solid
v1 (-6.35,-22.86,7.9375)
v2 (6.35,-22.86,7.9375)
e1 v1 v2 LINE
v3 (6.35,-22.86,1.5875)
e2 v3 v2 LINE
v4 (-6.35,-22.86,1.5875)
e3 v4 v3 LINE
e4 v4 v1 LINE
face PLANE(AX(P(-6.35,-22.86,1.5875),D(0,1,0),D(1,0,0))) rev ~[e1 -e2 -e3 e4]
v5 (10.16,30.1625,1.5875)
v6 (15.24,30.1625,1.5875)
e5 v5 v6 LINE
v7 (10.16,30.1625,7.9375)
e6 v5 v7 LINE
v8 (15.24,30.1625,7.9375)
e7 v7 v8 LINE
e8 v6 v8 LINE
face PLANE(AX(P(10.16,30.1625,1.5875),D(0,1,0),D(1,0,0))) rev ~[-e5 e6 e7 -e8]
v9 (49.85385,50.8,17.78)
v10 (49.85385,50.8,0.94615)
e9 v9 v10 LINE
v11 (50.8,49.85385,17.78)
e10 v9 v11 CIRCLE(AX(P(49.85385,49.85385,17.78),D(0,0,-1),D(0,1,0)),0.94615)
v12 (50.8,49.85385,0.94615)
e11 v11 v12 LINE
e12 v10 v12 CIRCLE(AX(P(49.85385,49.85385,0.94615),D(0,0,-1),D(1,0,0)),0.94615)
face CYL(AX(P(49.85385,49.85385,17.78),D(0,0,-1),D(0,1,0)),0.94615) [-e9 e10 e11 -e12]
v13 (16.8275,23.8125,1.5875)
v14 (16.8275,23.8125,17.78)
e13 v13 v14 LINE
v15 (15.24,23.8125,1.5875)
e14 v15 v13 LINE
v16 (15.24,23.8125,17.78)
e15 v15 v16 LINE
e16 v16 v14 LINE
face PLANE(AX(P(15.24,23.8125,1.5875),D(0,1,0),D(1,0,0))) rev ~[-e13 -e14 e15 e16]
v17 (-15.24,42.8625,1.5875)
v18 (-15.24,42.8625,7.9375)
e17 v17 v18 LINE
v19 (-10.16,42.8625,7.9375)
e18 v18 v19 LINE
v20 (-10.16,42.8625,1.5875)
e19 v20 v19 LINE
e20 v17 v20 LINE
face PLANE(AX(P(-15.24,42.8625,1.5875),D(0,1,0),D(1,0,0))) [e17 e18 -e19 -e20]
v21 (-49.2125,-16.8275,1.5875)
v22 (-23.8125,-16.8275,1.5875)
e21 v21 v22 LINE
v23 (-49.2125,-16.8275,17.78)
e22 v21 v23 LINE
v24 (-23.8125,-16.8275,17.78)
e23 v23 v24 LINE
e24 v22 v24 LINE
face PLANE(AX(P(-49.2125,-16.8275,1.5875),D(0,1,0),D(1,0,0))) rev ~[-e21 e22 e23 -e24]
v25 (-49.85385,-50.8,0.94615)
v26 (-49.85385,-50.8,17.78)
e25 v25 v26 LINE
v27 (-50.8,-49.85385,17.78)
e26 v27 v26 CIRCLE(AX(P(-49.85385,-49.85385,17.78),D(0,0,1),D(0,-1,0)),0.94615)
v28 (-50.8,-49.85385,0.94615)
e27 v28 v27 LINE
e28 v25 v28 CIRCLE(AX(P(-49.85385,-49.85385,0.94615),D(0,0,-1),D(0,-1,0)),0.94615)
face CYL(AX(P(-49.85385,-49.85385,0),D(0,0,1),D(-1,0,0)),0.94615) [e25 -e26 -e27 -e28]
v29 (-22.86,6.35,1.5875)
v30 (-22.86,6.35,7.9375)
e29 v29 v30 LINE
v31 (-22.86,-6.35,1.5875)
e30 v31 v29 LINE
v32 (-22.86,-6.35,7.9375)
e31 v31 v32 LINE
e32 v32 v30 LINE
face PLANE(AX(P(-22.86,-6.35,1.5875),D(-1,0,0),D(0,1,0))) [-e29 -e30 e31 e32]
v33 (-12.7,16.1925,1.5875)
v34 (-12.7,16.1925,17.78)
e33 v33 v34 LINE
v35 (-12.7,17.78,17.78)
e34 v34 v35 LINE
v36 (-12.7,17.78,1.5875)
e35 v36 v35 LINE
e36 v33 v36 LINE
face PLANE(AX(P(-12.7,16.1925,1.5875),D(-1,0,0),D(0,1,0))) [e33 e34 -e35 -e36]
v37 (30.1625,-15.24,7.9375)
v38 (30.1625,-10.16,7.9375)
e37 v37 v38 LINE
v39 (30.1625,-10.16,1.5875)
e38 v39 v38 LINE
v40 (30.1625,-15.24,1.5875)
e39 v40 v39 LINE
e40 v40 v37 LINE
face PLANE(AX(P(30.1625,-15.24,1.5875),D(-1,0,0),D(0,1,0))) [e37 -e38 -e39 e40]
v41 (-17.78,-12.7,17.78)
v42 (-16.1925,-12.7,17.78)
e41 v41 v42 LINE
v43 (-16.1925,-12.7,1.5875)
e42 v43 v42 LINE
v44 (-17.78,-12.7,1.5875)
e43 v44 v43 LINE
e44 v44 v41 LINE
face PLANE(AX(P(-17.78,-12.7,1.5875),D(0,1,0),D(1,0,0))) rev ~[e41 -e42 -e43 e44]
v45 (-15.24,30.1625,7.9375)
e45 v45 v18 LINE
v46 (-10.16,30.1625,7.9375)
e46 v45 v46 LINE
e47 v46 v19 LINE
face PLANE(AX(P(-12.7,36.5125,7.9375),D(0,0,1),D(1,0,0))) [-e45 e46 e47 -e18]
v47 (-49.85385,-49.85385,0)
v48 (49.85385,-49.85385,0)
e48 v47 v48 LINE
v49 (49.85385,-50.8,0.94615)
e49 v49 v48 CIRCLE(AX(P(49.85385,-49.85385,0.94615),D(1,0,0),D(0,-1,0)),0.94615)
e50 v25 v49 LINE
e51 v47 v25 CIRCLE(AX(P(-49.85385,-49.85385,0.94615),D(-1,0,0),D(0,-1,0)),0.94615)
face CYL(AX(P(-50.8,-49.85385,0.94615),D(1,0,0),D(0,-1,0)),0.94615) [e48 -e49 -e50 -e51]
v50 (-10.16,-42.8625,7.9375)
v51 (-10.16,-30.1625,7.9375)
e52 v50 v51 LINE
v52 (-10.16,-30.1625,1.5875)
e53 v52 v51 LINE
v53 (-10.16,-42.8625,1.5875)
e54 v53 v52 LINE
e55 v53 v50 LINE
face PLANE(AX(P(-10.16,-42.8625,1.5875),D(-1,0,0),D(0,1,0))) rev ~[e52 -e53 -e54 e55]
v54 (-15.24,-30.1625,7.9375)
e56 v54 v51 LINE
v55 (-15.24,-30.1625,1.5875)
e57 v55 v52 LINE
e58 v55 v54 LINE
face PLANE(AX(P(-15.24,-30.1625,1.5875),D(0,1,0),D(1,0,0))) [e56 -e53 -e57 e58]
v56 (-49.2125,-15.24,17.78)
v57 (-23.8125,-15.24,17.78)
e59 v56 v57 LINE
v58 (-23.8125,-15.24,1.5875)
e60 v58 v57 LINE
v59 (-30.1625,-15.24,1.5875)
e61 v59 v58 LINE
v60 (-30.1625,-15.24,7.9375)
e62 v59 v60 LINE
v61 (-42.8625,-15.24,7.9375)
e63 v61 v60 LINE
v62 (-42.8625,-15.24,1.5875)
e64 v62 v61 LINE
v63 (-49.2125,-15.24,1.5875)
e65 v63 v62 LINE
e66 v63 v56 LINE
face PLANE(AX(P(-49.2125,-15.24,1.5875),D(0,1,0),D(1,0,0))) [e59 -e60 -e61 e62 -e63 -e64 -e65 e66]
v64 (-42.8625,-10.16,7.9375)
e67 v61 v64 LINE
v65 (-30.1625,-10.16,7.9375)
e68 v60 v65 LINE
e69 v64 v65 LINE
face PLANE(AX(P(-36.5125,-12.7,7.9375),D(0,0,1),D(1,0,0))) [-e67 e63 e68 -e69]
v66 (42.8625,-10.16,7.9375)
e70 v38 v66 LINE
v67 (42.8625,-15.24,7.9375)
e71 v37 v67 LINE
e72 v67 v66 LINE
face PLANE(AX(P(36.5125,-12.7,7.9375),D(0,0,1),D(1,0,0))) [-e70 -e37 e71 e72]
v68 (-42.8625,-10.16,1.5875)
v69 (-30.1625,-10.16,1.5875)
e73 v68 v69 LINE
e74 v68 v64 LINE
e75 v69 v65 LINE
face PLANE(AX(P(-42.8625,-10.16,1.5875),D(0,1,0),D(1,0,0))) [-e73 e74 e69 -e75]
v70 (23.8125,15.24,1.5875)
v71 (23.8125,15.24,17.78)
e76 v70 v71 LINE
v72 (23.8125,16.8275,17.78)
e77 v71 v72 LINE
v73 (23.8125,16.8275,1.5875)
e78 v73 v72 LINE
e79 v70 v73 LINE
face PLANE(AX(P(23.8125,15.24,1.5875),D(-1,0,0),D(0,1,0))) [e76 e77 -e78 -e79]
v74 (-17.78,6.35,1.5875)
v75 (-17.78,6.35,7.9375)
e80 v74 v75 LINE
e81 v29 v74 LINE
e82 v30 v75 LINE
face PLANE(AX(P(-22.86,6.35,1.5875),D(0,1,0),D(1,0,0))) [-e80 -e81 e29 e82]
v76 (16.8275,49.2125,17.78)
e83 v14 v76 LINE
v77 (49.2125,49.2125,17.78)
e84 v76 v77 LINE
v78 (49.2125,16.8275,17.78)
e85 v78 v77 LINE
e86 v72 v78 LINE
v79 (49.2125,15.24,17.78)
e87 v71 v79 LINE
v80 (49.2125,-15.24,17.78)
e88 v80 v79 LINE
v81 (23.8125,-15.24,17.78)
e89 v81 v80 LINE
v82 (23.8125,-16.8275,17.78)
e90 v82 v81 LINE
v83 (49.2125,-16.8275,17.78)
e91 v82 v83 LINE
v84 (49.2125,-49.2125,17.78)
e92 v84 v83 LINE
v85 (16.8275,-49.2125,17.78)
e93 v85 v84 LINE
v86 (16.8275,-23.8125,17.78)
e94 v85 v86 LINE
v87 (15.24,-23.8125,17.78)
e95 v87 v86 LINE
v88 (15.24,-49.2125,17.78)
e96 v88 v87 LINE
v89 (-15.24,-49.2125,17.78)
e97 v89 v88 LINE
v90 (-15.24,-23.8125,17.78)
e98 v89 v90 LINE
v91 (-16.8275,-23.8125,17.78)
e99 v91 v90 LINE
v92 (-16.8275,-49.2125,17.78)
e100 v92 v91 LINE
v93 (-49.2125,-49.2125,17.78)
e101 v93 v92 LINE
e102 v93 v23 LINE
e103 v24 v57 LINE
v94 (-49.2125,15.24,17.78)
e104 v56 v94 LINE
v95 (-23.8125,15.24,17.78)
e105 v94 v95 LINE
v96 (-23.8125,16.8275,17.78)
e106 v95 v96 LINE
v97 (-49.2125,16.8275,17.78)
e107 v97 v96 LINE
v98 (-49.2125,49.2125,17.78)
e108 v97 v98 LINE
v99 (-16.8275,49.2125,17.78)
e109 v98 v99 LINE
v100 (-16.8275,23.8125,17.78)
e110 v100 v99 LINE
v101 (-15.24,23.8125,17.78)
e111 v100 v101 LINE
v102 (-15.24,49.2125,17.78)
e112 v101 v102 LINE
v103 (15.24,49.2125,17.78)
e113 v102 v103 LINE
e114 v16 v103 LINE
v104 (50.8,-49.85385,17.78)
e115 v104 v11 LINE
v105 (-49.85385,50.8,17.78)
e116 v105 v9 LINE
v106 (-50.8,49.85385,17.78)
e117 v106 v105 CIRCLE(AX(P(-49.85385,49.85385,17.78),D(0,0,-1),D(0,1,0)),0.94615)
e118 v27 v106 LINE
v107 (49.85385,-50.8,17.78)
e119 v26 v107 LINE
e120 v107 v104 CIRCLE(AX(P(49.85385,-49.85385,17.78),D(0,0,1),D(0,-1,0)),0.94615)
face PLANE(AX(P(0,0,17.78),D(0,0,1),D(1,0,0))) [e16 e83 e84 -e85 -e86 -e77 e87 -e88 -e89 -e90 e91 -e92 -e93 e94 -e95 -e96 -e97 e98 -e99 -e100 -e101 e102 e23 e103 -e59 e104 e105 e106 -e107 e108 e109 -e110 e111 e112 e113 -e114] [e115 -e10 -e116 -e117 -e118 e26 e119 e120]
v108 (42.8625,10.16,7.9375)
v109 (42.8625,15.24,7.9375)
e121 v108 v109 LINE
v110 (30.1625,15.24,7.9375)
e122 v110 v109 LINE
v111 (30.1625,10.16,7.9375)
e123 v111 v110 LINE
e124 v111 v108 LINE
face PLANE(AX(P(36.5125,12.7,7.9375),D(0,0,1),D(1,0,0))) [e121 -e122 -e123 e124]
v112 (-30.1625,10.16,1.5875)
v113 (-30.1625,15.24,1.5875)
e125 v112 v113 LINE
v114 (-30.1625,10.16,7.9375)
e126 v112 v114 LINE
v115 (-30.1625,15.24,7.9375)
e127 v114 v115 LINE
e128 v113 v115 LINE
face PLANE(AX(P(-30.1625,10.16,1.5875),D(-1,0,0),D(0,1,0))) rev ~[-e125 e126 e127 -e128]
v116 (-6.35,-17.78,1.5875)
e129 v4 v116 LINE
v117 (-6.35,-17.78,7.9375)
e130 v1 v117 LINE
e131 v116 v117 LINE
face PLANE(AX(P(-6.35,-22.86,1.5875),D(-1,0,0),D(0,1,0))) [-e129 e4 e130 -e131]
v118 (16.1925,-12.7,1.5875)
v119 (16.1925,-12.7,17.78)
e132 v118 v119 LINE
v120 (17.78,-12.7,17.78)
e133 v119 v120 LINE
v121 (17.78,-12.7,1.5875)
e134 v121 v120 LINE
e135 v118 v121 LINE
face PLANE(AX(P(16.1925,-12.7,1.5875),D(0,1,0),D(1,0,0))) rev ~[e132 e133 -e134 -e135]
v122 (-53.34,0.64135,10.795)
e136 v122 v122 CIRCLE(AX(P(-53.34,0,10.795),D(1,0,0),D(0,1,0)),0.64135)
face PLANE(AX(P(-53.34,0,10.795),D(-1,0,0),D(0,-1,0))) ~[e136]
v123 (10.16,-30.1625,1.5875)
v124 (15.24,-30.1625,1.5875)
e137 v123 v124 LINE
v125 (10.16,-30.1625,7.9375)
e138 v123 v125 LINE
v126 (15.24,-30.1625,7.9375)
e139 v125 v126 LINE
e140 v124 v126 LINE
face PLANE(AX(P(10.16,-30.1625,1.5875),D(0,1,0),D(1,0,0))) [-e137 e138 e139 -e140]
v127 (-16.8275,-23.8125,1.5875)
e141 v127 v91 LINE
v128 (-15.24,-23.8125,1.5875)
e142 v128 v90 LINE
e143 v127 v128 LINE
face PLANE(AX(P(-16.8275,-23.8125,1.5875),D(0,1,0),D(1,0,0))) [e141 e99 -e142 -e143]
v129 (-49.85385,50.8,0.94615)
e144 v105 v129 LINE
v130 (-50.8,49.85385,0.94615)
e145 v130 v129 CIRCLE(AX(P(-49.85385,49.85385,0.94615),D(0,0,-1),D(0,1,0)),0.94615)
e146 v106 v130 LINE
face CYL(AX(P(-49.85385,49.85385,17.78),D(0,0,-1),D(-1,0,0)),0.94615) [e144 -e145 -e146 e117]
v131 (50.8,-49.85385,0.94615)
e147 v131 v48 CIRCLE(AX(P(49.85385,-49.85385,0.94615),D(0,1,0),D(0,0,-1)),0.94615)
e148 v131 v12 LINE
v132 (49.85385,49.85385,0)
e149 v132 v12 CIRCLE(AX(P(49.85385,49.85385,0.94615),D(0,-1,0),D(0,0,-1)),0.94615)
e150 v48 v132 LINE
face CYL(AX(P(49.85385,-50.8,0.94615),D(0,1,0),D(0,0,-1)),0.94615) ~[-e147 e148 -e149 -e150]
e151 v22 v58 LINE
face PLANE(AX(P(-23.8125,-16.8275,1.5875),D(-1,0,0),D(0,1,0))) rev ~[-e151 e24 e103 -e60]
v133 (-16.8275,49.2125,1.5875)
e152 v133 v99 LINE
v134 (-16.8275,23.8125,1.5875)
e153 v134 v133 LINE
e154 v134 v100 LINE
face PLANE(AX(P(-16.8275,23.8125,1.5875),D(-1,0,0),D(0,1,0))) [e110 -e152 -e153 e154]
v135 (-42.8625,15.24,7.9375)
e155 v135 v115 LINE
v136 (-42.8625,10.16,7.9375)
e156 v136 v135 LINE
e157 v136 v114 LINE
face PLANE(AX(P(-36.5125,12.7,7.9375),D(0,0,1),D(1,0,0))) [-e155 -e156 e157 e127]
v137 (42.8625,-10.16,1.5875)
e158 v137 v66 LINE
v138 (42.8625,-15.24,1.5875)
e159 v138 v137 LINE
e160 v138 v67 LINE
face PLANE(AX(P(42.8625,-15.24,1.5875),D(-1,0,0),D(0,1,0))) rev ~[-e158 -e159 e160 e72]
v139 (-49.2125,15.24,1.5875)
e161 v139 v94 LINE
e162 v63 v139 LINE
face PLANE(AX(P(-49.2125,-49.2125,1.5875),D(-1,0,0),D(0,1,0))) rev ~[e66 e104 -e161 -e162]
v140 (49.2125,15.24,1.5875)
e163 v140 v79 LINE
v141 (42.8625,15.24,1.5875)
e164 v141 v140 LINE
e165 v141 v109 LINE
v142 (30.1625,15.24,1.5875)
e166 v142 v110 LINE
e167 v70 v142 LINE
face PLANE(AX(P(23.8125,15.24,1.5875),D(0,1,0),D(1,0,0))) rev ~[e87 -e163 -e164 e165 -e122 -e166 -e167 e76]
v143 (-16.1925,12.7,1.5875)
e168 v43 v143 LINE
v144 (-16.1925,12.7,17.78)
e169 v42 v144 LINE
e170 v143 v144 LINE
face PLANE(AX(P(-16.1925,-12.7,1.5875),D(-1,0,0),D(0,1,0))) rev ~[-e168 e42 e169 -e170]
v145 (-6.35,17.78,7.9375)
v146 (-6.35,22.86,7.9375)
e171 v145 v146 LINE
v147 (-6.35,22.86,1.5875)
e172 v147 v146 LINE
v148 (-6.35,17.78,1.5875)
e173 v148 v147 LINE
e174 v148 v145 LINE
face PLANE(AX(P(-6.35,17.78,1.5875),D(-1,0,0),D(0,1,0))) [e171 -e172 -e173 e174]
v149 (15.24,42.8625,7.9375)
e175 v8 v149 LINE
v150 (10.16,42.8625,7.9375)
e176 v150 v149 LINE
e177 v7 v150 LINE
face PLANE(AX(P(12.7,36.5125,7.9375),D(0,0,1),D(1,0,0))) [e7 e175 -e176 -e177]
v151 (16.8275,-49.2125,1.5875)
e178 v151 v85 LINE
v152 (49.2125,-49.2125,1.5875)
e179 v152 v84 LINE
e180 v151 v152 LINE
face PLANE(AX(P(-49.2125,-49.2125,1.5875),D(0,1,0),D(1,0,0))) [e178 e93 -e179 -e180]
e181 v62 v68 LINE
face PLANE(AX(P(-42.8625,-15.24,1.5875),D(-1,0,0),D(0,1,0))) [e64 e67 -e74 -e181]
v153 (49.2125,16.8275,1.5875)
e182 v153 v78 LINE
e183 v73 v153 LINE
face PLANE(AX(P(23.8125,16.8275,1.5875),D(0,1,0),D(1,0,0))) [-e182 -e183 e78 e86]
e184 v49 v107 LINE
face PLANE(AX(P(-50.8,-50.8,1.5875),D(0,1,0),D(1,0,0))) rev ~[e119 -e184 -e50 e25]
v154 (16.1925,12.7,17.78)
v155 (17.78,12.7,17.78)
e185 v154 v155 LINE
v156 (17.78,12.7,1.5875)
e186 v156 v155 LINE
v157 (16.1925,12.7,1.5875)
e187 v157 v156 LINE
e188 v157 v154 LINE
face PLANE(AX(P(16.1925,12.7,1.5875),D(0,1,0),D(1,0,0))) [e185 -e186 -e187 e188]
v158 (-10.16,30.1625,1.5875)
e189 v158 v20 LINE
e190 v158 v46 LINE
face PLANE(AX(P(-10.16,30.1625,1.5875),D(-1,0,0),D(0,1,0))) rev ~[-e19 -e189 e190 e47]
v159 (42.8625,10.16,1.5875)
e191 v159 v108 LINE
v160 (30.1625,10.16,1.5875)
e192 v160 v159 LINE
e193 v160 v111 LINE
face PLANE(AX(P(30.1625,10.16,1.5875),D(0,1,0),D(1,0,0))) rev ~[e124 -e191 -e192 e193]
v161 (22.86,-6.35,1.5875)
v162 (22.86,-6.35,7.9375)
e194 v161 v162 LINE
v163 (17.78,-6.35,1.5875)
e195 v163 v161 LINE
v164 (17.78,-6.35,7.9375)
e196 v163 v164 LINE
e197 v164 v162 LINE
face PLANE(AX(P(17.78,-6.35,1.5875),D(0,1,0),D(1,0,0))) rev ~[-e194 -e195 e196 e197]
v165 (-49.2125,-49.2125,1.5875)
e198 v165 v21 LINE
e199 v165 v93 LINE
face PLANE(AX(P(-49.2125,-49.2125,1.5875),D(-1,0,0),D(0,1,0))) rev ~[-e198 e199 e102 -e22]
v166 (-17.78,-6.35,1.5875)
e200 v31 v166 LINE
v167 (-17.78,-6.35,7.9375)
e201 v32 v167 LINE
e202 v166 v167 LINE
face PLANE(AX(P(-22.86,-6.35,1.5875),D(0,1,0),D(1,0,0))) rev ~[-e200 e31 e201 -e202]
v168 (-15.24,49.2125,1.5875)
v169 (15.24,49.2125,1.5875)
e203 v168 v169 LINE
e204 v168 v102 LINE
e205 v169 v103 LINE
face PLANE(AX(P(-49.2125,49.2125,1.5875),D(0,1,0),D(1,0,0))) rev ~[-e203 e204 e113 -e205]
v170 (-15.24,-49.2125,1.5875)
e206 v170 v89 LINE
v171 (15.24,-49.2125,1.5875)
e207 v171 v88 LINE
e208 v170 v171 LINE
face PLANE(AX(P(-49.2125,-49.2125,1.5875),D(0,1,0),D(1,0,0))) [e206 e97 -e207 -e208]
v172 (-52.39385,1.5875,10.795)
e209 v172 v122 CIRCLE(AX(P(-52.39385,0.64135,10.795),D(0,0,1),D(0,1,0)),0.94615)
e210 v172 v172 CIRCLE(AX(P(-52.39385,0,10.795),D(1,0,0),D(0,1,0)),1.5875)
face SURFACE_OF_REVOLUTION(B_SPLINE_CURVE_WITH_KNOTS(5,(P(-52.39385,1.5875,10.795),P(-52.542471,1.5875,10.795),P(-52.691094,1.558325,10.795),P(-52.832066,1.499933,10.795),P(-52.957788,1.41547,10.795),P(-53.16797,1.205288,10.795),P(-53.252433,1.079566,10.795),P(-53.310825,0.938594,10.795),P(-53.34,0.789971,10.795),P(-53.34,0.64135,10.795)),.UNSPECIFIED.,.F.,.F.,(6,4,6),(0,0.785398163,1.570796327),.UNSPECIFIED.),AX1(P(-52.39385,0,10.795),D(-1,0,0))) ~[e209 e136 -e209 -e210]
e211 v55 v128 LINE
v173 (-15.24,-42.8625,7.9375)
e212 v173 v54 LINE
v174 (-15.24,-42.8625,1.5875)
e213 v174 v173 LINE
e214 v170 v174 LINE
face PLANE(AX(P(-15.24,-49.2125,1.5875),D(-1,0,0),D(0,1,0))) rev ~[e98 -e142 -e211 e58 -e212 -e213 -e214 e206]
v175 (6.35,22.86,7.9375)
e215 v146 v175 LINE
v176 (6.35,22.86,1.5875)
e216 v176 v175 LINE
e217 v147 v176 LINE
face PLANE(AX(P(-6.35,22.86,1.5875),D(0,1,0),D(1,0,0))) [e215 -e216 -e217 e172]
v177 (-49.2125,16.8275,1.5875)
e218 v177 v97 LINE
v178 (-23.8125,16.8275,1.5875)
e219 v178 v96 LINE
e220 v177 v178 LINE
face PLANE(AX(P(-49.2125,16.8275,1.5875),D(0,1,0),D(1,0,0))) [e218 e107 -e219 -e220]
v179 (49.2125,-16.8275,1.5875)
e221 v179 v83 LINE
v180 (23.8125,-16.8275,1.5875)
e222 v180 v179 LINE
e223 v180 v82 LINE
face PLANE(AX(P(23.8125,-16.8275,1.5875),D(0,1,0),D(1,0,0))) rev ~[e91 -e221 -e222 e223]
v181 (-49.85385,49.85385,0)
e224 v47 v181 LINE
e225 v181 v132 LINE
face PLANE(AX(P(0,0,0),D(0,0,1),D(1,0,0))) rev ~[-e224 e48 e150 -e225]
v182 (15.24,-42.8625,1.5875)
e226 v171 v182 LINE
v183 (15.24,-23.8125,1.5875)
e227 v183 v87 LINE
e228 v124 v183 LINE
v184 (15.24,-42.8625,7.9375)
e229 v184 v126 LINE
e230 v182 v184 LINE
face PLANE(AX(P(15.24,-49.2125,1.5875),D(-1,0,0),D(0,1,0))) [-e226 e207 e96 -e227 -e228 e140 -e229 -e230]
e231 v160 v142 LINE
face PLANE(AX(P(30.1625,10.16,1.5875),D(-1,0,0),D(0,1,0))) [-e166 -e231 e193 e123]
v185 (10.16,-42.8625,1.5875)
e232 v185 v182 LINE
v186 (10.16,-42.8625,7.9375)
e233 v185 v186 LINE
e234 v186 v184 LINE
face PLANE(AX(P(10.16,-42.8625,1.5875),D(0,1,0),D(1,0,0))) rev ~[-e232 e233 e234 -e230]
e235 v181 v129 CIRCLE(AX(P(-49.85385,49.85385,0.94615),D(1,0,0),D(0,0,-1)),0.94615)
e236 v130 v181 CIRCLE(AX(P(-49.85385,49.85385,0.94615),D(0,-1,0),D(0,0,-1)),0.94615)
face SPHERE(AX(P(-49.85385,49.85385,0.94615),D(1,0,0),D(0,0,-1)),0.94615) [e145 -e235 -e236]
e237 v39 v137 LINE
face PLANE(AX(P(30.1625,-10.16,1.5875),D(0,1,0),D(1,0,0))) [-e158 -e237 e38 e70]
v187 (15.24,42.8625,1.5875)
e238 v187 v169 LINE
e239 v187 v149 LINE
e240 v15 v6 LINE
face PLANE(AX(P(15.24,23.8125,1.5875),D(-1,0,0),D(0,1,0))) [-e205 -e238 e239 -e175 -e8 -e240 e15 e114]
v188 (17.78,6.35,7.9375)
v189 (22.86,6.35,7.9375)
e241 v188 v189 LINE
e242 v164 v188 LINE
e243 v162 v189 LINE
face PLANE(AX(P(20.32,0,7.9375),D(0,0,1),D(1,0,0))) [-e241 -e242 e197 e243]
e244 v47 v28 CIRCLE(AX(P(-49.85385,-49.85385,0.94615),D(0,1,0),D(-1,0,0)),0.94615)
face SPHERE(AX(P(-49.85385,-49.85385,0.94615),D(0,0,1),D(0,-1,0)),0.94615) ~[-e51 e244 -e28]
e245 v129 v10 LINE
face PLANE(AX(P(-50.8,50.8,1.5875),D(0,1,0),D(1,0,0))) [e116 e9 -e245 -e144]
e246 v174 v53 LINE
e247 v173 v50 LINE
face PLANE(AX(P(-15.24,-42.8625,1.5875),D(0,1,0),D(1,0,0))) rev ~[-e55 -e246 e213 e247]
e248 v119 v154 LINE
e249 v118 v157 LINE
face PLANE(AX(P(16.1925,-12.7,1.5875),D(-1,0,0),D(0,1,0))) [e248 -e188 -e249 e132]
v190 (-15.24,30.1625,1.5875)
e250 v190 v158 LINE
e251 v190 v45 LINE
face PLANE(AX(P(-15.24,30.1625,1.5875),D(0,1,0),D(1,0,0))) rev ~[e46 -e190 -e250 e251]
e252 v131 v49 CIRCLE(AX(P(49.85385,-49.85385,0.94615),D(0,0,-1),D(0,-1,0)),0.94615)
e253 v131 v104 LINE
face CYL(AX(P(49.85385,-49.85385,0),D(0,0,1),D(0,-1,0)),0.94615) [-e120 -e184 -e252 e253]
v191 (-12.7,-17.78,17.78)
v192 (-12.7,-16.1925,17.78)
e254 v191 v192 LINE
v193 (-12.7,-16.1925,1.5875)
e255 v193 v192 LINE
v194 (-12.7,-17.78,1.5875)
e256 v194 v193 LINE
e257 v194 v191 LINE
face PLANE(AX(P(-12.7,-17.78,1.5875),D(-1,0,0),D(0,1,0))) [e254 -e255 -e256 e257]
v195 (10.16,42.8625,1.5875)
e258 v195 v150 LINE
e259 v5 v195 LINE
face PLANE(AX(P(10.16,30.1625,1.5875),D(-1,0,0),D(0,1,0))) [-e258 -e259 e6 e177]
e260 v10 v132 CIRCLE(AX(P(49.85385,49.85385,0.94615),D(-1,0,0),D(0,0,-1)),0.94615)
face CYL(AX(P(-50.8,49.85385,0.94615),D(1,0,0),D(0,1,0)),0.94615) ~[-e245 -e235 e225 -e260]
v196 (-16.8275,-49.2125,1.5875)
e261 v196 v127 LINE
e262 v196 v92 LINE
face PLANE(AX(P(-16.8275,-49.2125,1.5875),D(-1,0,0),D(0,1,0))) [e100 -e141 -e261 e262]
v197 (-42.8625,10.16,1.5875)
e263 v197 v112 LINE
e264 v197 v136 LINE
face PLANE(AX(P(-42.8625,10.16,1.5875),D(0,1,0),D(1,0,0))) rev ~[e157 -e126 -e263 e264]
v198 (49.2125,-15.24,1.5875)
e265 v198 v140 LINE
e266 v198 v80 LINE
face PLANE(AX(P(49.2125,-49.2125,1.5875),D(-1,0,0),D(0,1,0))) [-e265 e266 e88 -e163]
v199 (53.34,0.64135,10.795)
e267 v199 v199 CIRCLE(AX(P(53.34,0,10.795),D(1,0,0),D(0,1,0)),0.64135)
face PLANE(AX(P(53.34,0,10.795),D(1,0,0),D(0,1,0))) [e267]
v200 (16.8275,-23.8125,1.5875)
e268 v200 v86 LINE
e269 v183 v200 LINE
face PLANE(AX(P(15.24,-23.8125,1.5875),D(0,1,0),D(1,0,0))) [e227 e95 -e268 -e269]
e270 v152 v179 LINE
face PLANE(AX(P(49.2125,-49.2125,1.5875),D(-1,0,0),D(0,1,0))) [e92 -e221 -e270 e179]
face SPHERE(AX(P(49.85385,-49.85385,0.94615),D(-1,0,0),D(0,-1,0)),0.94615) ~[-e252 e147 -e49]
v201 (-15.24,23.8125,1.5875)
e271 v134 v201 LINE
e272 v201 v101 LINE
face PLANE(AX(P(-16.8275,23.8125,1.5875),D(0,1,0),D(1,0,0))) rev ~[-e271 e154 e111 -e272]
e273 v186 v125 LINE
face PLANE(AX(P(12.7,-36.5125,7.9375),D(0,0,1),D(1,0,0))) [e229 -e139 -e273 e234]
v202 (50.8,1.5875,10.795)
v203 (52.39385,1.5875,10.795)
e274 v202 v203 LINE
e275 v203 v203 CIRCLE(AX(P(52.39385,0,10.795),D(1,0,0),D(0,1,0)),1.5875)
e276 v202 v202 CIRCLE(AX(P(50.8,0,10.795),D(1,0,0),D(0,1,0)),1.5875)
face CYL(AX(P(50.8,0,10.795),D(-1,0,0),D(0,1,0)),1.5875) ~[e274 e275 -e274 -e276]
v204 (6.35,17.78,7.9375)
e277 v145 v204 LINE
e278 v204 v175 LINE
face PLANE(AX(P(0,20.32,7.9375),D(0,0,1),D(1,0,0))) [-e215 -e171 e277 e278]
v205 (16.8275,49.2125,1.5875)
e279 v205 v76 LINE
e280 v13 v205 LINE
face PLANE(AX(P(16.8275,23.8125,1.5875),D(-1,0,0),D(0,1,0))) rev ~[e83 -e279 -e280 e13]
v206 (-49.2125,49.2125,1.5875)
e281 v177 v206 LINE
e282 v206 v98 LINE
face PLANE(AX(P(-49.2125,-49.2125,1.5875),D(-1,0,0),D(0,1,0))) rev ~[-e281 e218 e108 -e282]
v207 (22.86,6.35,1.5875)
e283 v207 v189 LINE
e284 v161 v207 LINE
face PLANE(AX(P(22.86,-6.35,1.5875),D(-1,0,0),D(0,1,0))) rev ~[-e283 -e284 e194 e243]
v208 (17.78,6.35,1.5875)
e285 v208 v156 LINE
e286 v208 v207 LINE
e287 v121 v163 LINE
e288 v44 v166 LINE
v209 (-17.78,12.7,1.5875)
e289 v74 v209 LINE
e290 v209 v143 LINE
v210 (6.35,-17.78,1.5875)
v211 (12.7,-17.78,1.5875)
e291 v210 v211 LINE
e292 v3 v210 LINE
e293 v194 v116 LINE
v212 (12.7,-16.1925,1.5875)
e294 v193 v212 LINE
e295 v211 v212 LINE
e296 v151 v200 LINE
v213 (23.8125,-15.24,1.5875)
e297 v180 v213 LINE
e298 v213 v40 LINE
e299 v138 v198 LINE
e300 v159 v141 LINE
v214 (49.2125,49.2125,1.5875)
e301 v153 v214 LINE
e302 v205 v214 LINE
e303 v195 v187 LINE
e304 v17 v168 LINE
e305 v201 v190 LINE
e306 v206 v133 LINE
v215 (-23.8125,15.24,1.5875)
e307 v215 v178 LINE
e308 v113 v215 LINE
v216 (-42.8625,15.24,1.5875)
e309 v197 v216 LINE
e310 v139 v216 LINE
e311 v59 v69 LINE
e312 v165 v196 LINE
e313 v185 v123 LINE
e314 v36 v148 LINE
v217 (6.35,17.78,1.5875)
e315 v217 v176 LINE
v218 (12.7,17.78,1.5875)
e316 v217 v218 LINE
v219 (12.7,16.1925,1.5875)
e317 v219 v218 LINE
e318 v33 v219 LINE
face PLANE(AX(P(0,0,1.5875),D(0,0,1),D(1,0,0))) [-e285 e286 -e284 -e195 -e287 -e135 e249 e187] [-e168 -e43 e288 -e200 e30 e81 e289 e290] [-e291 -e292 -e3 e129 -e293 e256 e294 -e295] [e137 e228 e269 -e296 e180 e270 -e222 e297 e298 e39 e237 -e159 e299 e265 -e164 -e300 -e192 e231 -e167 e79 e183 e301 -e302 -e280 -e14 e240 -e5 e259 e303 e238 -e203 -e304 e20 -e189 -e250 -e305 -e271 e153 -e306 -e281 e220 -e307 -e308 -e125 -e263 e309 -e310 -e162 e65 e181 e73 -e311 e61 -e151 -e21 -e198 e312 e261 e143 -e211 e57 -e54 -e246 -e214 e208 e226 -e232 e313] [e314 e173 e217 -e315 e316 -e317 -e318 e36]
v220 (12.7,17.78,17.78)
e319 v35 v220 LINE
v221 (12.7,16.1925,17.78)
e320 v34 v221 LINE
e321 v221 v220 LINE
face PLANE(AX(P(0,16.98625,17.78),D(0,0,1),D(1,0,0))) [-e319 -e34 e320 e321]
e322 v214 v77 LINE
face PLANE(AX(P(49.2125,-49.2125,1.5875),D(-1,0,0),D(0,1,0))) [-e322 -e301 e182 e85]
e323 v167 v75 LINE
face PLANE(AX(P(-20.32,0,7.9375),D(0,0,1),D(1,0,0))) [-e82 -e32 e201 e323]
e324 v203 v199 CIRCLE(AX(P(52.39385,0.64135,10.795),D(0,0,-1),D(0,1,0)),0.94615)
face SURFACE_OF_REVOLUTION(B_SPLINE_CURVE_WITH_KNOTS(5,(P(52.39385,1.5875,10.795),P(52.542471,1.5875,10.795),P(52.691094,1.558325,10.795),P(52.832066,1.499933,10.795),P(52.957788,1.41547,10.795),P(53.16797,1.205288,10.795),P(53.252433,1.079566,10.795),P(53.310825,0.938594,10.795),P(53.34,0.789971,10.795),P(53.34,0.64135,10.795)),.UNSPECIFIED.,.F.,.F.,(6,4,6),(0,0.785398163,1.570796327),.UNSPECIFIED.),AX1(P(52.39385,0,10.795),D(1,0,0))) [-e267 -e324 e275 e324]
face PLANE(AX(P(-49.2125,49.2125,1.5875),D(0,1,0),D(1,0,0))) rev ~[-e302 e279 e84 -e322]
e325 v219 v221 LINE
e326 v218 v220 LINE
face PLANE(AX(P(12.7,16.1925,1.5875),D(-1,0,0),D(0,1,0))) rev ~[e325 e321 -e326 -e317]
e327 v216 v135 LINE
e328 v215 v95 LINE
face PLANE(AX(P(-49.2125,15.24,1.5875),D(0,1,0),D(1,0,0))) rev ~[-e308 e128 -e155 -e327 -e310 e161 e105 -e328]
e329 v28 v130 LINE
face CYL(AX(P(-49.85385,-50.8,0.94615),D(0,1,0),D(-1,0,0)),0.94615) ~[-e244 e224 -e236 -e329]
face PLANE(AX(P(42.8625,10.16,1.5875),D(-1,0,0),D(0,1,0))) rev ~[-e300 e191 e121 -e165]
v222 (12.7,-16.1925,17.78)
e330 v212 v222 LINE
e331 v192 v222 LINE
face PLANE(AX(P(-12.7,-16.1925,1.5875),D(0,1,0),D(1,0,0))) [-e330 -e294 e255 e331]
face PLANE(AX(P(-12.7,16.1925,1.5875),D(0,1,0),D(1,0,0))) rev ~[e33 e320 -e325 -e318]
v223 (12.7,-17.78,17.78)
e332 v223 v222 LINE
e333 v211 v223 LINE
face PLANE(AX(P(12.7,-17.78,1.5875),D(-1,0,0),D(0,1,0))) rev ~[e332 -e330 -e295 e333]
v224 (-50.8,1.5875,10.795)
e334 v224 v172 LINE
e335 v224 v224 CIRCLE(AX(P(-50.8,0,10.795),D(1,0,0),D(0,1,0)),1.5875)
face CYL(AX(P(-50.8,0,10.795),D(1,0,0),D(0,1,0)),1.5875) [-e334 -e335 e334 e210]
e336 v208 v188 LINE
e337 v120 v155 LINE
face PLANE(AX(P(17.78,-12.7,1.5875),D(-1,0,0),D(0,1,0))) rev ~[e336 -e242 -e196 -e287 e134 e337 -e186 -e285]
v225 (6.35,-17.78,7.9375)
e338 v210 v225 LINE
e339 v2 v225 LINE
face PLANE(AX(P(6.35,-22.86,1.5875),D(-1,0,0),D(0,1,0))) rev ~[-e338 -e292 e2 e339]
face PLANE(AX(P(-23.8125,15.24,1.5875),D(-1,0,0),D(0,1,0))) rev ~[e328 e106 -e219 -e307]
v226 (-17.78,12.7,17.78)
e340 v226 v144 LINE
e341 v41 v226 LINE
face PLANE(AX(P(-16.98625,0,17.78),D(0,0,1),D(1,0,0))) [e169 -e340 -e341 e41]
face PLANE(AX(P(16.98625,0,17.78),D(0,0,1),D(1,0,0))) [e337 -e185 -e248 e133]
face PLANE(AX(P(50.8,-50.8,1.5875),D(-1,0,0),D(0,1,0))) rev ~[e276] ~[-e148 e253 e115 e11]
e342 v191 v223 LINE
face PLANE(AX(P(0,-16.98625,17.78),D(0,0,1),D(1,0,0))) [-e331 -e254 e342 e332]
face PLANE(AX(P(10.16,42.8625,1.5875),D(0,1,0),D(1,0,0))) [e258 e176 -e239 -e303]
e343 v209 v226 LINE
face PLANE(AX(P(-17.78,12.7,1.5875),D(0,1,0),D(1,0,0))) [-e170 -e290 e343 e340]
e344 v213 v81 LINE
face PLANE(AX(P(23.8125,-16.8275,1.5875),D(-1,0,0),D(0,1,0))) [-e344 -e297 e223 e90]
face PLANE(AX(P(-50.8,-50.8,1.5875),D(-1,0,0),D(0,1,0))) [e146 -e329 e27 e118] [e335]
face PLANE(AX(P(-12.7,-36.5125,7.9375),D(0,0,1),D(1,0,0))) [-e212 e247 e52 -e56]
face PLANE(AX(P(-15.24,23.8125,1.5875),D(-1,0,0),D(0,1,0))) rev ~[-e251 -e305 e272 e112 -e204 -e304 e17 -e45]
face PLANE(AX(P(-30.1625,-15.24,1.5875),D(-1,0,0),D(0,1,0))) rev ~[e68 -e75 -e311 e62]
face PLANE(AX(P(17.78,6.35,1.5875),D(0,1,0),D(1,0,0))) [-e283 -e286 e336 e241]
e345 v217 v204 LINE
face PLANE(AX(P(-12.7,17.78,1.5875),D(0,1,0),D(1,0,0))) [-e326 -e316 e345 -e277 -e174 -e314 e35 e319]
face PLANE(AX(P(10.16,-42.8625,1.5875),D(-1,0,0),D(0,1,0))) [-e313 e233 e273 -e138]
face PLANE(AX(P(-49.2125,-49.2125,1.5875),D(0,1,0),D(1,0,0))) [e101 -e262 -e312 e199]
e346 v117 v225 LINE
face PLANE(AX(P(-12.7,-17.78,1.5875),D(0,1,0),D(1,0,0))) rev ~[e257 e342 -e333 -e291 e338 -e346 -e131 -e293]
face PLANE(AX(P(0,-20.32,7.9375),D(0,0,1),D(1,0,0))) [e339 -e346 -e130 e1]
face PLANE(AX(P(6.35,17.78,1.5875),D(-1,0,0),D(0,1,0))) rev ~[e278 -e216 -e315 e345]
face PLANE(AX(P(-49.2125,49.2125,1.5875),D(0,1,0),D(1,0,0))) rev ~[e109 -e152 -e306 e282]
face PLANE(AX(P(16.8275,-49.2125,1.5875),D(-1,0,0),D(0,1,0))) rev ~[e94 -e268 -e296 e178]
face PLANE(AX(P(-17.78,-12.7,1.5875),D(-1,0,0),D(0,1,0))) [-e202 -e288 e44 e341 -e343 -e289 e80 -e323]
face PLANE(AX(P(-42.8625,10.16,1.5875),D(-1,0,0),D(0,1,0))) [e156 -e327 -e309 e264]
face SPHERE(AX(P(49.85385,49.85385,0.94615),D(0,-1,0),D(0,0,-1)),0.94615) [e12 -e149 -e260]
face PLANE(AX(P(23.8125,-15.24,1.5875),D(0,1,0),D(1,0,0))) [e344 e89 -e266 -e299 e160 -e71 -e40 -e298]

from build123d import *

# Parameters (mm, degrees)
F0_W     = 101.6
F0_H     = 101.6
F1_DEPTH = 1.5875
F2_W     = 101.6
F2_H     = 101.6
F2_W_2   = 98.425
F2_H_2   = 98.425
F3_DEPTH = 16.1925
F4_W     = 25.4
F4_H     = 1.5875
F4_W_2   = 1.5875
F4_H_2   = 25.4
F5_DEPTH = 16.1925
F6_W     = 12.7
F6_H     = 5.08
F6_W_2   = 5.08
F6_H_2   = 12.7
F7_DEPTH = 6.35
F8_R     = 1.5875
F9_DEPTH = 2.54
F11_R    = 0.94615


with BuildPart() as f1:
    # F0 (on Top) → F1 (new body)
    with BuildSketch(Plane.XY):
        Rectangle(F0_W, F0_H)
    extrude(amount=F1_DEPTH)

    # F2 (on face) → F3 (join)
    with BuildSketch(Plane.XY.offset(1.5875)):
        Rectangle(F2_W, F2_H)
        Rectangle(F2_W_2, F2_H_2, mode=Mode.SUBTRACT)
    extrude(amount=F3_DEPTH)

    # F4 (on face) → F5 (join, through all)
    with BuildSketch(Plane.XY.offset(1.5875)):
        with Locations((-36.5125, -16.03375)):
            Rectangle(F4_W, F4_H)
        with Locations((36.5125, -16.03375)):
            Rectangle(F4_W, F4_H)
        with Locations((-36.5125, 16.03375)):
            Rectangle(F4_W, F4_H)
        with Locations((36.5125, 16.03375)):
            Rectangle(F4_W, F4_H)
        with Locations((16.03375, 36.5125)):
            Rectangle(F4_W_2, F4_H_2)
        with Locations((-16.03375, 36.5125)):
            Rectangle(F4_W_2, F4_H_2)
        with Locations((-16.03375, -36.5125)):
            Rectangle(F4_W_2, F4_H_2)
        with Locations((16.03375, -36.5125)):
            Rectangle(F4_W_2, F4_H_2)
        with Locations((0, 16.98625)):
            Rectangle(F4_W, F4_H)
        with Locations((0, -16.98625)):
            Rectangle(F4_W, F4_H)
        with Locations((-16.98625, 0)):
            Rectangle(F4_W_2, F4_H_2)
        with Locations((16.98625, 0)):
            Rectangle(F4_W_2, F4_H_2)
    extrude(amount=F5_DEPTH)

    # F6 (on face) → F7 (join)
    with BuildSketch(Plane.XY.offset(1.5875)):
        with Locations((-36.5125, 12.7)):
            Rectangle(F6_W, F6_H)
        with Locations((-36.5125, -12.7)):
            Rectangle(F6_W, F6_H)
        with Locations((-12.7, 36.5125)):
            Rectangle(F6_W_2, F6_H_2)
        with Locations((12.7, 36.5125)):
            Rectangle(F6_W_2, F6_H_2)
        with Locations((36.5125, 12.7)):
            Rectangle(F6_W, F6_H)
        with Locations((36.5125, -12.7)):
            Rectangle(F6_W, F6_H)
        with Locations((12.7, -36.5125)):
            Rectangle(F6_W_2, F6_H_2)
        with Locations((-12.7, -36.5125)):
            Rectangle(F6_W_2, F6_H_2)
        with Locations((0, -20.32)):
            Rectangle(F6_W, F6_H)
        with Locations((20.32, 0)):
            Rectangle(F6_W_2, F6_H_2)
        with Locations((-20.32, 0)):
            Rectangle(F6_W_2, F6_H_2)
        with Locations((0, 20.32)):
            Rectangle(F6_W, F6_H)
    extrude(amount=F7_DEPTH)

    # F8 (on face) → F9 (join)
    with BuildSketch(Plane.YZ.offset(50.8)):
        with Locations((0, 10.795)):
            Circle(F8_R)
    extrude(amount=F9_DEPTH)

    # F10: F1 across plane


with BuildPart() as f1_1:
    add(f1.part)
    add(f1.part.mirror(Plane.YZ))

    # F11
    f11_edges = [f1_1.edges().sort_by_distance(p)[0] for p in [
        (-53.34, -1.5875, 10.795),
        (-50.8, -50.8, 8.89),
        (0, -50.8, 0),
        (50.8, -50.8, 8.89),
        (53.34, -1.5875, 10.795),
        (50.8, 0, 0),
        (0, 50.8, 0),
        (50.8, 50.8, 8.89),
        (-50.8, 0, 0),
        (-50.8, 50.8, 8.89),
    ]]
    fillet(f11_edges, radius=F11_R)


solid = f1_1.part
